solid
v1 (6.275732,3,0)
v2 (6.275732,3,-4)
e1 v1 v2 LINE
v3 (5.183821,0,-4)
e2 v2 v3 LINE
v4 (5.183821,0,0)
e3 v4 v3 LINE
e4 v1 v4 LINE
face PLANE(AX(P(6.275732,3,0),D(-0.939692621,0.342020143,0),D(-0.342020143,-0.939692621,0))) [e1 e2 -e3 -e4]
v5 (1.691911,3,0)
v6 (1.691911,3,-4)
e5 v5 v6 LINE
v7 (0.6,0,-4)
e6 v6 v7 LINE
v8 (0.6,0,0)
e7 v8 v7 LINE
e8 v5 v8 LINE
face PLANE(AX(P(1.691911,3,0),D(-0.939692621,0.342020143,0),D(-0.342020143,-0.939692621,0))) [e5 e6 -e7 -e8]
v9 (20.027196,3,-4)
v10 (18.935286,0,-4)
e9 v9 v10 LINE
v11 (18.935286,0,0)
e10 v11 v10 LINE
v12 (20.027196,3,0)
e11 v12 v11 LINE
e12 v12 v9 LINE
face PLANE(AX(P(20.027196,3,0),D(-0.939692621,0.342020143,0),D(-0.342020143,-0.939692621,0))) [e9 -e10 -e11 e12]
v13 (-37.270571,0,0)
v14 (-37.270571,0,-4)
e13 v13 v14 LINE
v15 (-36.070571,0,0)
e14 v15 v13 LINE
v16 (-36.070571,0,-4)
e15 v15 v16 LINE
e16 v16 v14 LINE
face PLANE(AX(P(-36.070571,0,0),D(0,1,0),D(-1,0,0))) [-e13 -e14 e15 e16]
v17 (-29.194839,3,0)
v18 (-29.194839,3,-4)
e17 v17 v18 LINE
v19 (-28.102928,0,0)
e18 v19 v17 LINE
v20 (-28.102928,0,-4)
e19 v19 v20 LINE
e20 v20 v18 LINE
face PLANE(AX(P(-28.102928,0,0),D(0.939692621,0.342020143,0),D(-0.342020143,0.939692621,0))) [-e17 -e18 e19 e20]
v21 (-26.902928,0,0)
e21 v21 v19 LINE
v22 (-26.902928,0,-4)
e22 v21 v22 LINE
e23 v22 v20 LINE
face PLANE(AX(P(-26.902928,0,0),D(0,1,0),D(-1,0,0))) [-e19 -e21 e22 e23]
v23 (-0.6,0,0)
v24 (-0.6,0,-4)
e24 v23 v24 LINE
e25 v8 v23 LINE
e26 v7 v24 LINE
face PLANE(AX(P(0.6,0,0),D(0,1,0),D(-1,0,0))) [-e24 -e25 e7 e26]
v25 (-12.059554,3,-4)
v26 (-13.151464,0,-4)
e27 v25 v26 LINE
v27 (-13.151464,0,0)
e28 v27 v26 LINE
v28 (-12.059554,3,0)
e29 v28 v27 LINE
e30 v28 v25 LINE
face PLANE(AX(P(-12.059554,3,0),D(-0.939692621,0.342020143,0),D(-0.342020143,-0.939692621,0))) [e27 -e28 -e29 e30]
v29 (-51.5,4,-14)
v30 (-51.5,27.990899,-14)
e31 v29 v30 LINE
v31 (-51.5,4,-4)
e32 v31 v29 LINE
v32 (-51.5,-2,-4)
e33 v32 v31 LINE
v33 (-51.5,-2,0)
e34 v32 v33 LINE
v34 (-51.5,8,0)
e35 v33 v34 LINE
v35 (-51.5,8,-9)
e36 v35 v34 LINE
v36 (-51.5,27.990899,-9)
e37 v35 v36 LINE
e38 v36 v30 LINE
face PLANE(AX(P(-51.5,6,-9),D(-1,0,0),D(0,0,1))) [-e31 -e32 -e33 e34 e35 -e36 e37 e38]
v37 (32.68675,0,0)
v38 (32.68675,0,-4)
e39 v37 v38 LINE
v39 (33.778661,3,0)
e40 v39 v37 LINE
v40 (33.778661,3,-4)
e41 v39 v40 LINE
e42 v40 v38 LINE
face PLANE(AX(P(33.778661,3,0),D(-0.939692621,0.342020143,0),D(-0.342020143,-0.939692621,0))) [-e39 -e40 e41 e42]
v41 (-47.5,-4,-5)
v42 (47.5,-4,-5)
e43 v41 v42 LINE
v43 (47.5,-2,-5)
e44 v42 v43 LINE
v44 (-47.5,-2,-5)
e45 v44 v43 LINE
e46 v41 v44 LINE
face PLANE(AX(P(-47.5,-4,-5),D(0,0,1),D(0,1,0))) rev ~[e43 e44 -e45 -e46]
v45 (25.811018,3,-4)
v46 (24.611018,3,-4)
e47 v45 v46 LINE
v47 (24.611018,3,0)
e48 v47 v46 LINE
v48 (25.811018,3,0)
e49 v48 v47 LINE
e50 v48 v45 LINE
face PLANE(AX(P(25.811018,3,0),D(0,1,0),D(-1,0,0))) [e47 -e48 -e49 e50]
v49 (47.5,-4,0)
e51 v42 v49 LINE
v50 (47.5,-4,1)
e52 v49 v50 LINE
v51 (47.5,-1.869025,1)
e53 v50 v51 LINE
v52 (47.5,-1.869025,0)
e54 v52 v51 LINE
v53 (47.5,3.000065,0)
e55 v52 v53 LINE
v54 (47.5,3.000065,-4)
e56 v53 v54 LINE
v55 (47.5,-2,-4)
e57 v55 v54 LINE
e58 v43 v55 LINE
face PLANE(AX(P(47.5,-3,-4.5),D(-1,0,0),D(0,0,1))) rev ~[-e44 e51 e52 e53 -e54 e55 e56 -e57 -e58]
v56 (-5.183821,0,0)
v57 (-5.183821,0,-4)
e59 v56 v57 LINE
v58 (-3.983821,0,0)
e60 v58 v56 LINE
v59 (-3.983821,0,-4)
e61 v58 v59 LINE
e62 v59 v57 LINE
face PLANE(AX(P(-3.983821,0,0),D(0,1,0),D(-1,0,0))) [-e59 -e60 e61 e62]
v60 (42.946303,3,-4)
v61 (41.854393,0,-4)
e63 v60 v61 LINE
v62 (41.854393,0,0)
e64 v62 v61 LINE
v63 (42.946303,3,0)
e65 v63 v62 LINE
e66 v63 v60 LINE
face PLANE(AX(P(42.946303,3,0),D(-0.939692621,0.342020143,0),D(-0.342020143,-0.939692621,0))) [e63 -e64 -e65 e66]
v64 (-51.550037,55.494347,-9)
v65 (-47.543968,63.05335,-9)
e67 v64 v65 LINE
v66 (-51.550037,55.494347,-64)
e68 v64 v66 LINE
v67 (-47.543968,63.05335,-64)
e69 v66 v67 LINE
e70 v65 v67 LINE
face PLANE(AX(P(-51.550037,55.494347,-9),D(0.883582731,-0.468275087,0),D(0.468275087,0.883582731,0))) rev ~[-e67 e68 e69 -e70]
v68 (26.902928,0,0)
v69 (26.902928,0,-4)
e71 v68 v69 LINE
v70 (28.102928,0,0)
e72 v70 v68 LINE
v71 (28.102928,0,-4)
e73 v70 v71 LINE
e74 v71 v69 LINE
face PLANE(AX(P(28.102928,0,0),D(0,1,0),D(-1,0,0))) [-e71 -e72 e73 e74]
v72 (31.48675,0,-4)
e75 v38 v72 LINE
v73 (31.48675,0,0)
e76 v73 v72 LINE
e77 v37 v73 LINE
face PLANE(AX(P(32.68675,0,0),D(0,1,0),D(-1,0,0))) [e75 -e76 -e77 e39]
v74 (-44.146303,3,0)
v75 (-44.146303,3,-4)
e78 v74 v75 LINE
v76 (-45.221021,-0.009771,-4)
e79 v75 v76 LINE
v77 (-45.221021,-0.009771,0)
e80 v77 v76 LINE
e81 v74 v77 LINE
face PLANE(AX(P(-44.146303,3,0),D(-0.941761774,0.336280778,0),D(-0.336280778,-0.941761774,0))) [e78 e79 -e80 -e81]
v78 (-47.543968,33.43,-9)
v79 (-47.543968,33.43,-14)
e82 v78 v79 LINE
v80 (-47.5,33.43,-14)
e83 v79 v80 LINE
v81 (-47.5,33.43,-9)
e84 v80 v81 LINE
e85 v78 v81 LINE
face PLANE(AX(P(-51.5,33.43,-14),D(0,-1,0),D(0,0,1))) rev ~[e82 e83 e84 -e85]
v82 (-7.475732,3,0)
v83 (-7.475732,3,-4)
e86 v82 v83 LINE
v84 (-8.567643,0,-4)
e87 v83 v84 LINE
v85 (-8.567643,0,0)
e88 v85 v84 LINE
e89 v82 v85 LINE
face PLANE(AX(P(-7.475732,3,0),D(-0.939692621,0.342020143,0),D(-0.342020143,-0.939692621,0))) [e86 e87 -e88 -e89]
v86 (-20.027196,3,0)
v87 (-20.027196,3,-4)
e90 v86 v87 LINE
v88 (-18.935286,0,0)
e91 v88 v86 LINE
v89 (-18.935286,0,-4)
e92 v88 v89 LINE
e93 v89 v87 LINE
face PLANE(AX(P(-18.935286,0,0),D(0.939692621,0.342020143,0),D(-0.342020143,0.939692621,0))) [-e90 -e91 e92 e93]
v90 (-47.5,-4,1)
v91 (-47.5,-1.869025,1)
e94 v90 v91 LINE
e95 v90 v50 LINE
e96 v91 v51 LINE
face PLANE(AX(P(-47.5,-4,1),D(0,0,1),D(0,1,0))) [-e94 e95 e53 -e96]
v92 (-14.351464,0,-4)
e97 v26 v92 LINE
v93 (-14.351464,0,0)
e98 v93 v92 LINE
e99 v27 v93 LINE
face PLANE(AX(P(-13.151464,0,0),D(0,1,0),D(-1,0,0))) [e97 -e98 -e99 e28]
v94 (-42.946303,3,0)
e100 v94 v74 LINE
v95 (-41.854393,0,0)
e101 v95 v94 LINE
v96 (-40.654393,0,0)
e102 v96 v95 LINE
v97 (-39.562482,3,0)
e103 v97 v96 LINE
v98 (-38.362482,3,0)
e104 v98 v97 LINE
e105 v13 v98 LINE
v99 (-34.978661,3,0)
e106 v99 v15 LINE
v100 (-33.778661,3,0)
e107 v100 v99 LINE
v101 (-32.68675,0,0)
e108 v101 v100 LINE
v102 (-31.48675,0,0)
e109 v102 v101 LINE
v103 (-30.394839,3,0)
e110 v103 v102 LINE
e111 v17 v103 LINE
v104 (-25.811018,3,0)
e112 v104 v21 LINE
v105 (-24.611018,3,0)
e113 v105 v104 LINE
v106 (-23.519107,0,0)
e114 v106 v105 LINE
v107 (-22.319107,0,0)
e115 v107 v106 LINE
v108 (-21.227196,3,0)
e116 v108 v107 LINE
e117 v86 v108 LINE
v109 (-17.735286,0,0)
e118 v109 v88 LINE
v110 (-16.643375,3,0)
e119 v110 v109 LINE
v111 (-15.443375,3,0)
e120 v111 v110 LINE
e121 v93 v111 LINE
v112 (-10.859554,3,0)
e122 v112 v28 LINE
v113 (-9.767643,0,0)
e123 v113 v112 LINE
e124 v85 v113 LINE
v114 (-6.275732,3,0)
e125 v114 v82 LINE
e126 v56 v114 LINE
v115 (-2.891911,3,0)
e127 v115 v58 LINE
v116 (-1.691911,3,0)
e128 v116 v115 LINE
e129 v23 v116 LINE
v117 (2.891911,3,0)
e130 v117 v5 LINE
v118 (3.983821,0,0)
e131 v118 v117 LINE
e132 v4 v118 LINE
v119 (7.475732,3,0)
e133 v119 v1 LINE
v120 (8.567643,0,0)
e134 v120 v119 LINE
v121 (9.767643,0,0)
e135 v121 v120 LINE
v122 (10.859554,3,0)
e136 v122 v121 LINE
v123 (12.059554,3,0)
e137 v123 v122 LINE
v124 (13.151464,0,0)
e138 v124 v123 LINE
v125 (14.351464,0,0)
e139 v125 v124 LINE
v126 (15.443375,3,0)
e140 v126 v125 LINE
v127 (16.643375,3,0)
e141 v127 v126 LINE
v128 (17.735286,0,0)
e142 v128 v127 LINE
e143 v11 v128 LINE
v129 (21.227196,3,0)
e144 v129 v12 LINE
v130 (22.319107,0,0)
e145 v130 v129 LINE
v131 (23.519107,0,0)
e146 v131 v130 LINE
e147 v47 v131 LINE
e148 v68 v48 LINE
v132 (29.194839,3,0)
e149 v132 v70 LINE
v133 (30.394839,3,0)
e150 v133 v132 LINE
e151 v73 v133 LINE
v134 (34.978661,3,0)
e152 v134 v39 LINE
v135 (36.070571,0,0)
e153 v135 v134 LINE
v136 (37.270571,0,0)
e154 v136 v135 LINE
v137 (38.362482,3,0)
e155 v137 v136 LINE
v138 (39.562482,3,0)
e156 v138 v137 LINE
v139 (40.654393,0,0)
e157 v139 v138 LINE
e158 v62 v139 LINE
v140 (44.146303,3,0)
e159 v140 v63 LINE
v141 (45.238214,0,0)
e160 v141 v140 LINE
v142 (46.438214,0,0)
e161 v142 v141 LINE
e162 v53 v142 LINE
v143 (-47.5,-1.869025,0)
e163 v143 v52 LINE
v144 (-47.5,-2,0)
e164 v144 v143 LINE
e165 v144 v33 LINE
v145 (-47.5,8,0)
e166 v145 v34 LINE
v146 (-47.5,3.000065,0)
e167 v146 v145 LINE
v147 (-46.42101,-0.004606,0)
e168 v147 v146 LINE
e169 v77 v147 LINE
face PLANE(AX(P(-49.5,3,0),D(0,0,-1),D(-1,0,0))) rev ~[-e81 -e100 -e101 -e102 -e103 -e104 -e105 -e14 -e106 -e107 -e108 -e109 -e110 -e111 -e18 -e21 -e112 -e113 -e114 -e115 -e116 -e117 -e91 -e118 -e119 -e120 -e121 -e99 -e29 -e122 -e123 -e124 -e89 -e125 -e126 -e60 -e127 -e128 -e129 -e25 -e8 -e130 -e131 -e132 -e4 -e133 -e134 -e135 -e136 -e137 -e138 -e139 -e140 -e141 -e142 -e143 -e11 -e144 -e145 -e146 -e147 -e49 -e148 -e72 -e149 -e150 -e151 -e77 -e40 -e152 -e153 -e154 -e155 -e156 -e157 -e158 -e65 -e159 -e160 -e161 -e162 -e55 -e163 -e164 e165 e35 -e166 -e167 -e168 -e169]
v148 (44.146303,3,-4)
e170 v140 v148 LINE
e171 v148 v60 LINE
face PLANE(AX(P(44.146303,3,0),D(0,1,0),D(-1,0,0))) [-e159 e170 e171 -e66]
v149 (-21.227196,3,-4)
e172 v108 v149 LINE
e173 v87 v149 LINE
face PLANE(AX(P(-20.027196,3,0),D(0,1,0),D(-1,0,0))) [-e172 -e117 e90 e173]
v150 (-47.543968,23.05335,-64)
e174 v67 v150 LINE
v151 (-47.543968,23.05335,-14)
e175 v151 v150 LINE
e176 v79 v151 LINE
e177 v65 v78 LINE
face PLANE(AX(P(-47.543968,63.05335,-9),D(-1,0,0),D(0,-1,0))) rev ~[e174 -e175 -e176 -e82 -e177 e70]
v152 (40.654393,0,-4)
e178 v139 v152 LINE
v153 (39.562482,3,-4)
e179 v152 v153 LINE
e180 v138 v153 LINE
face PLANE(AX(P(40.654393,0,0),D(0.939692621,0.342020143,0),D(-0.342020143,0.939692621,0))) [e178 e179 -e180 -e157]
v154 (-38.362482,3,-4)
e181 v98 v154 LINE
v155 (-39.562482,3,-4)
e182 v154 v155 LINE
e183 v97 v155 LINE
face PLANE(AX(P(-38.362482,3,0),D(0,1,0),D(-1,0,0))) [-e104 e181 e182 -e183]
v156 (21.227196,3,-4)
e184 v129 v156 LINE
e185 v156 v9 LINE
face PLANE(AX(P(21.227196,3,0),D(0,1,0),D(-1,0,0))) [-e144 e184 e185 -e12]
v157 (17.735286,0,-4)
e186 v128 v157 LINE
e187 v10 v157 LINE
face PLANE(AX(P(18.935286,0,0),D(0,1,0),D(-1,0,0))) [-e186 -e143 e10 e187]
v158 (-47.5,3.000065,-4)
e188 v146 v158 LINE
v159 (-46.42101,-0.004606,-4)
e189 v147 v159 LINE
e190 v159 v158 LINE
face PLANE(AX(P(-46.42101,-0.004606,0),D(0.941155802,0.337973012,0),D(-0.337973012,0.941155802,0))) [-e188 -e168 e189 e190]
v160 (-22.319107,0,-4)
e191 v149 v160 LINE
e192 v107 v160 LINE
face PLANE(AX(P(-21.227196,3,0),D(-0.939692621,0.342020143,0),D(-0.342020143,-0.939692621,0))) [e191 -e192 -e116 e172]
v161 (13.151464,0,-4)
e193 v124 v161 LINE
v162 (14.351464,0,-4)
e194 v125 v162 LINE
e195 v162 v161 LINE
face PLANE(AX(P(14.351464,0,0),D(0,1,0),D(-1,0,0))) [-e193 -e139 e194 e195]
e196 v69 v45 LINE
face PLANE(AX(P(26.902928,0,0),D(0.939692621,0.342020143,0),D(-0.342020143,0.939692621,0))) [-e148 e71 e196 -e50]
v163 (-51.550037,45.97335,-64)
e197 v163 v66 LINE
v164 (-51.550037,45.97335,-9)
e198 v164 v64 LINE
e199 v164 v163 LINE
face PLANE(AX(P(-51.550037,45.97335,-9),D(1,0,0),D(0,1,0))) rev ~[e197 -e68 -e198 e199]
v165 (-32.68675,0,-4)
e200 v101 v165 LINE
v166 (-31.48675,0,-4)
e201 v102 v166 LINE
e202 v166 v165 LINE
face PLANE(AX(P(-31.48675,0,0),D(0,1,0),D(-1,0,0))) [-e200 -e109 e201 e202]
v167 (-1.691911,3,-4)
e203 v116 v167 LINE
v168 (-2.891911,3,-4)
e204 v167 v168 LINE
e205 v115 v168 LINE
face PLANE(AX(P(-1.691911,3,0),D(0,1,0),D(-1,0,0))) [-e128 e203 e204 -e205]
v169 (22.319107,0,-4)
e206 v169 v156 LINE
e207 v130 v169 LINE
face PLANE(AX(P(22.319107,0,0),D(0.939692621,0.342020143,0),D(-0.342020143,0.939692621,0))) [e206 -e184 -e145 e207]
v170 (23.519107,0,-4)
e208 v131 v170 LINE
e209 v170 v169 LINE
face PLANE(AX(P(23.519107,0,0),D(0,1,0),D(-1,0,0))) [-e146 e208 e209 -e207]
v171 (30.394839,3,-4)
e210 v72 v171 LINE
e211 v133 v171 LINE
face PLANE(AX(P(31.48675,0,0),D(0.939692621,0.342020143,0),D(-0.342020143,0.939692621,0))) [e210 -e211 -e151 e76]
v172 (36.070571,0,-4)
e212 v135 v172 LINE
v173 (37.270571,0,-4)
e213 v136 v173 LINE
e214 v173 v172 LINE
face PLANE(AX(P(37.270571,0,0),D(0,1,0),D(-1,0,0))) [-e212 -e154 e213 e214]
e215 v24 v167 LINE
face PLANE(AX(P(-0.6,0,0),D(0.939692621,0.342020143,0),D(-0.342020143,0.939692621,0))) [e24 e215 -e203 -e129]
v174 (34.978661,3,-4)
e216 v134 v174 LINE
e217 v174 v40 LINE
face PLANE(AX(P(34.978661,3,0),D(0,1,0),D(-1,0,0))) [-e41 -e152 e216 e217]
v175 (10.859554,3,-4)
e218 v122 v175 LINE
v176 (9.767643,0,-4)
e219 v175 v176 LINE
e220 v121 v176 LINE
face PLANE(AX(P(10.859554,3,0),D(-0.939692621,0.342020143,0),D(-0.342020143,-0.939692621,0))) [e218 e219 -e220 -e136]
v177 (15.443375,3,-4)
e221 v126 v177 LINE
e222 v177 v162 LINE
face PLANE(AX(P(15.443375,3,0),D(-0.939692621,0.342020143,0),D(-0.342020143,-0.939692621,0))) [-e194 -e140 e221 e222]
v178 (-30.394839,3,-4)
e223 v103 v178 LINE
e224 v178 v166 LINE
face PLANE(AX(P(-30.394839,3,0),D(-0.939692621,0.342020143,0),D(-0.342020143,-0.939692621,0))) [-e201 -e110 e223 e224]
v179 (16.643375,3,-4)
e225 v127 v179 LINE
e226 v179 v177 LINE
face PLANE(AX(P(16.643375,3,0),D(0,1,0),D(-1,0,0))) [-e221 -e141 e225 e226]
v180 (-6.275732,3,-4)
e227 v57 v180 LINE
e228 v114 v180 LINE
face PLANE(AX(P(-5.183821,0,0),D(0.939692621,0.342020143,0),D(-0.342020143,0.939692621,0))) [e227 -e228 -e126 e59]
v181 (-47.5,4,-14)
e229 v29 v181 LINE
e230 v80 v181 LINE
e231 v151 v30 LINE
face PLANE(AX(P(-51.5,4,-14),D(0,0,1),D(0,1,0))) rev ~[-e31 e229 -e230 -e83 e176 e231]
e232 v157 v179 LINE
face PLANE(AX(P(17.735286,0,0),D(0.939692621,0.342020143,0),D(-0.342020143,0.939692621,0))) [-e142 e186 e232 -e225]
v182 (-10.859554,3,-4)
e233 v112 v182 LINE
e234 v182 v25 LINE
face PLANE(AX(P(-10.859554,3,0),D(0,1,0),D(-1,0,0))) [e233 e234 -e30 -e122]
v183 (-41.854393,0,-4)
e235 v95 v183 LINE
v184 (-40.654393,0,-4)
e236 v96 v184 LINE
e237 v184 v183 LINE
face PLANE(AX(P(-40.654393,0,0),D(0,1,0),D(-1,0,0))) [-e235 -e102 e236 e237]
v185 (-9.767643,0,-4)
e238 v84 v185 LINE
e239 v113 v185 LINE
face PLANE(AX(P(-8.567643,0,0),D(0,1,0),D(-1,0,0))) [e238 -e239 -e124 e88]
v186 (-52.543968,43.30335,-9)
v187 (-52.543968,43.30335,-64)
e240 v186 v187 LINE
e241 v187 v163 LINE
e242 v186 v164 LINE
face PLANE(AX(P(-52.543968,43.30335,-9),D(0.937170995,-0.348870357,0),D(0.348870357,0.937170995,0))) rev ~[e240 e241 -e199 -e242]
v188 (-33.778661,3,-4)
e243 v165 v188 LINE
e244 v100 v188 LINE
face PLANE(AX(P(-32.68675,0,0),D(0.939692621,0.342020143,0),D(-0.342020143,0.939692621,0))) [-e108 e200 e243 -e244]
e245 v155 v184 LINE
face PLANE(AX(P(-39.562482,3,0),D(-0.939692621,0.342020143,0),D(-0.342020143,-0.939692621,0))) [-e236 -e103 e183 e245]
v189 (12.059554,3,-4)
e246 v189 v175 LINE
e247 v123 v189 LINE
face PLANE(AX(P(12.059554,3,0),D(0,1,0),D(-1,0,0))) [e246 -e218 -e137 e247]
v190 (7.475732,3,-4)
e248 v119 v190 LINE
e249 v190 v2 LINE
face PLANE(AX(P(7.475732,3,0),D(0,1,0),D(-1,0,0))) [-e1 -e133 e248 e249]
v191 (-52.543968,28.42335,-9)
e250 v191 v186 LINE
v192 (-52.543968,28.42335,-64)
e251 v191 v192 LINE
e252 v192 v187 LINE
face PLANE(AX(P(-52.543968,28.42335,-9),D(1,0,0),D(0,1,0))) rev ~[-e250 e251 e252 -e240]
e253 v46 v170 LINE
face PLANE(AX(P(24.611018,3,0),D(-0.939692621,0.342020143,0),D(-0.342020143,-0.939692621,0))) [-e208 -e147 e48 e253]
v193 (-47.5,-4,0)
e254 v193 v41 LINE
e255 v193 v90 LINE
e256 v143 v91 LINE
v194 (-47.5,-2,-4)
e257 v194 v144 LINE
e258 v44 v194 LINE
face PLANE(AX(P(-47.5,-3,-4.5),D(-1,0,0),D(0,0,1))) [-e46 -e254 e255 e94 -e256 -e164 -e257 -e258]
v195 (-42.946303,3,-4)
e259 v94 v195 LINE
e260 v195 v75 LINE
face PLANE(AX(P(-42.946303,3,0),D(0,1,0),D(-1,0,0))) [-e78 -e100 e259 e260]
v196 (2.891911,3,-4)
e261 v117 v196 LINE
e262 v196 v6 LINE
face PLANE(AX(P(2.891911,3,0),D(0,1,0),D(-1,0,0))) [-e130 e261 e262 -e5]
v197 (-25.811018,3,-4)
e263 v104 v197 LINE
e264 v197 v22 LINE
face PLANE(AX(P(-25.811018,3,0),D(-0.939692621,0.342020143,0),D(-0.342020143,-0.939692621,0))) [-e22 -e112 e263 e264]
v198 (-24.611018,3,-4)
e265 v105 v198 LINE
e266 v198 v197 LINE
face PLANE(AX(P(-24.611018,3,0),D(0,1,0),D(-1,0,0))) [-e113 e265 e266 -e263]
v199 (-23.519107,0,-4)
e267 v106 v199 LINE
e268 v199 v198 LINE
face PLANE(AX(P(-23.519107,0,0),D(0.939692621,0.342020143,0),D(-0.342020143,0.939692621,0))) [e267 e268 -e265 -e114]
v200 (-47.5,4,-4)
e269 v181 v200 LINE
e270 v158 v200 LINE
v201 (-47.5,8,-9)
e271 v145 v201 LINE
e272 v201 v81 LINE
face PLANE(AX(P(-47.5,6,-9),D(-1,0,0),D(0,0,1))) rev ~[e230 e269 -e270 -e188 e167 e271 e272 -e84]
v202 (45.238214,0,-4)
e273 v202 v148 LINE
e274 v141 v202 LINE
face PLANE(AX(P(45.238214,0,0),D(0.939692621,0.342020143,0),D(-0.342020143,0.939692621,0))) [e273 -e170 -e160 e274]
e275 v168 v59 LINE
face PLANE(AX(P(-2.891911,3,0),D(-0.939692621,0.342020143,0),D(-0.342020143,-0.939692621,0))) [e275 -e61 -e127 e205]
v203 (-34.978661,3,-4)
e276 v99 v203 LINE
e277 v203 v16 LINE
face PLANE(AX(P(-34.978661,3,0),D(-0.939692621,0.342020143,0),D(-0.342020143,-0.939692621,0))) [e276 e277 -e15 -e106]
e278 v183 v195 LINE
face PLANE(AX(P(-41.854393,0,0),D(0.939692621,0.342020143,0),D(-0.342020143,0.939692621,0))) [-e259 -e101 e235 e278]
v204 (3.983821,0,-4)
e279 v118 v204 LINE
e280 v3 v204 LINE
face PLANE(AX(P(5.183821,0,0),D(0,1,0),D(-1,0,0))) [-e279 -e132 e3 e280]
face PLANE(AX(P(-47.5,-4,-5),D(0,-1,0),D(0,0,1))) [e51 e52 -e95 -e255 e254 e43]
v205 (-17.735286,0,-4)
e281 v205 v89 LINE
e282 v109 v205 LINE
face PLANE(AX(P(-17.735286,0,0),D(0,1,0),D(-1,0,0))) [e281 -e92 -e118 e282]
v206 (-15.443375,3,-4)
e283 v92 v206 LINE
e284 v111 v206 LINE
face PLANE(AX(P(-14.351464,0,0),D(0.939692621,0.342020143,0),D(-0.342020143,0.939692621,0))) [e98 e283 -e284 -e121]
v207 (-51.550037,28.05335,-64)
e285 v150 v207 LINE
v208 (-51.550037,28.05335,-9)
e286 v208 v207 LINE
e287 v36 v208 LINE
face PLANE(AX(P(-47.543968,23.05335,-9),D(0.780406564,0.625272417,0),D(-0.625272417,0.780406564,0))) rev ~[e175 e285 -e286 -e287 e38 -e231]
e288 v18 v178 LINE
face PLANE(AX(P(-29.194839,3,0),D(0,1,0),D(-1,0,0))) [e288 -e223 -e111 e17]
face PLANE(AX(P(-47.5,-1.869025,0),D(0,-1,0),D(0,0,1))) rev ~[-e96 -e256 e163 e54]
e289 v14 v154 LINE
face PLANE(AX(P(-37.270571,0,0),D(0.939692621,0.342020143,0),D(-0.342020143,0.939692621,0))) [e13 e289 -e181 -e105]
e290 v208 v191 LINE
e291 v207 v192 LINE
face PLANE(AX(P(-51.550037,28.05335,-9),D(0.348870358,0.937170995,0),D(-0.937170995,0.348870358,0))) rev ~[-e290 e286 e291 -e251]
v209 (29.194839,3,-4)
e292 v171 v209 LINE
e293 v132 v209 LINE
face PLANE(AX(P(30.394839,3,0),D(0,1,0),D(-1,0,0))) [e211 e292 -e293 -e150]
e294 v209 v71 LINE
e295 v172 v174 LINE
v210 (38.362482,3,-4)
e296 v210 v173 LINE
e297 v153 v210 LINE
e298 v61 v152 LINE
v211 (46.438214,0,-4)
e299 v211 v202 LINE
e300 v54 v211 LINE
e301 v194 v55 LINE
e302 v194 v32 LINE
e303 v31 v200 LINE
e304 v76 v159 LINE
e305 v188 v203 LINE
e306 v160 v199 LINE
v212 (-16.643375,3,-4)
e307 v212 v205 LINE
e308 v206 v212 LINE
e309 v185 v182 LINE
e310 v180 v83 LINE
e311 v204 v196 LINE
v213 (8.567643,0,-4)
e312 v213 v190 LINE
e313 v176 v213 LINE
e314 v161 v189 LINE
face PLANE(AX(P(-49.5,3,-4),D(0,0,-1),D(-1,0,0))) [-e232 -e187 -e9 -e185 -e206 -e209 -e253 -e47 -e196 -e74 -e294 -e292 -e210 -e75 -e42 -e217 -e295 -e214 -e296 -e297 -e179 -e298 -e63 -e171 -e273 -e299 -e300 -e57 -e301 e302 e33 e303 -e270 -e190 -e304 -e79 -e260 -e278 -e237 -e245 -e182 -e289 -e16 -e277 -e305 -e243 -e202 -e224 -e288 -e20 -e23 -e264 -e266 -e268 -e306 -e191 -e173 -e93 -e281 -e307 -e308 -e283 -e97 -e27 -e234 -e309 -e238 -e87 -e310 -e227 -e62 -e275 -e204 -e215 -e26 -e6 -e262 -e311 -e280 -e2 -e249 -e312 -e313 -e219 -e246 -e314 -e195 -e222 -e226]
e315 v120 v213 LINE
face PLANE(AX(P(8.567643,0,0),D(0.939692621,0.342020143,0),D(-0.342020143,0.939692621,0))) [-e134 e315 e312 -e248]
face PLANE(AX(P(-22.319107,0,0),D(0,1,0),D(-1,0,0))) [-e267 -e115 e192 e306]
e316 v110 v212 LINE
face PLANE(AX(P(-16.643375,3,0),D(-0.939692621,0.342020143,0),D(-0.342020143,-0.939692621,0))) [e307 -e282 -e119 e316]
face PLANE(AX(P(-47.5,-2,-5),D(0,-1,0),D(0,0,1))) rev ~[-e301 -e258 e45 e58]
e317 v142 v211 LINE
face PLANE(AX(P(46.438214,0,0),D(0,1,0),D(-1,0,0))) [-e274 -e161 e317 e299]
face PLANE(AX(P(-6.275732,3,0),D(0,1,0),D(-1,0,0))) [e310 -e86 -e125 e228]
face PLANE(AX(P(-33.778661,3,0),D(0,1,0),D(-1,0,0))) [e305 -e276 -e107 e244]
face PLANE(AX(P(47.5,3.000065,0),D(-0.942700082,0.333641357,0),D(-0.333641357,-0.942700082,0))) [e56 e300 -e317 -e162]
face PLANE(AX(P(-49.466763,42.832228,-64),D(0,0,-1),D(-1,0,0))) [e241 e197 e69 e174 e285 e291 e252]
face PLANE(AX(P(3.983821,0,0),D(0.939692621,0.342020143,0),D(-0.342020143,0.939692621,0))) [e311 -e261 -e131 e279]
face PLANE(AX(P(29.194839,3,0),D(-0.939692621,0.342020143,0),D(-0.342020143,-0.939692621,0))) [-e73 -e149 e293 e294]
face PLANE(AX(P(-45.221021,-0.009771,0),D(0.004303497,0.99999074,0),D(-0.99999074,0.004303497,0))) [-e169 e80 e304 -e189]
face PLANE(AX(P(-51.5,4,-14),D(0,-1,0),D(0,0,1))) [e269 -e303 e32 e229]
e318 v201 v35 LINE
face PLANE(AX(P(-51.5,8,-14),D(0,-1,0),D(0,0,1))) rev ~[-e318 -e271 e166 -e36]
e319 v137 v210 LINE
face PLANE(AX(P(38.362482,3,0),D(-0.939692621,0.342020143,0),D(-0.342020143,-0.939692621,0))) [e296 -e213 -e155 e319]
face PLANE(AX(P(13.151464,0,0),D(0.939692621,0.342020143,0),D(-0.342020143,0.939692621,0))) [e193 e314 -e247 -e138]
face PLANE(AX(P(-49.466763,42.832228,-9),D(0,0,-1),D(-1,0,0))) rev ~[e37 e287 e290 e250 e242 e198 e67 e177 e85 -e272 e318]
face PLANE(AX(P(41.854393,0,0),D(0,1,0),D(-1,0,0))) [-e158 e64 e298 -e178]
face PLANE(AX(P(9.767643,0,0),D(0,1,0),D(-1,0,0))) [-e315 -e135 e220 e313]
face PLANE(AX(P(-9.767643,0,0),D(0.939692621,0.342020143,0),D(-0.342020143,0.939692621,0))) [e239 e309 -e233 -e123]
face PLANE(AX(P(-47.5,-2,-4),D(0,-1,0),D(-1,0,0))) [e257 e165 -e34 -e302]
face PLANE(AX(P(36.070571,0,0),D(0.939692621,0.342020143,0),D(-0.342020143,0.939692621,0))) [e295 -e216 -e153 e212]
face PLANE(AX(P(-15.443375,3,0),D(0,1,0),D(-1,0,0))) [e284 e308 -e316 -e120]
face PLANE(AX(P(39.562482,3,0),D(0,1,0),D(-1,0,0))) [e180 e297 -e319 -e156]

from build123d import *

# Parameters (mm, degrees)
BOSS_EXTRU_1_DEPTH      = 4
ESQUISSE2_W             = 1
ESQUISSE2_H             = 2
ESQUISSE2_H_2           = 2.130975397
BOSS_EXTRU_2_DEPTH      = 95
ESQUISSE3_W             = 4
ESQUISSE3_H             = 10
BOSS_EXTRU_3_DEPTH      = 4
ESQUISSE4_W             = 10
ESQUISSE4_H             = 4
BOSS_EXTRU_4_DEPTH      = 4
ESQUISSE6_W             = 5
ESQUISSE6_H             = 29.43
BOSS_EXTRU_5_DEPTH      = 4
BOSS_EXTRU_6_DEPTH      = 50
BOSS_EXTRU_6_DEPTH_BACK = 5


with BuildPart() as part:
    # Esquisse1 → Boss.-Extru.1 (new body)
    with BuildSketch(Plane.XY):
        Polygon((0.6, 0), (-0.6, 0), (-1.691910703, 3), (-2.891910703, 3), (-3.983821406, 0), (-5.183821406, 0), (-6.275732108, 3), (-7.475732108, 3), (-8.567642811, 0), (-9.767642811, 0), (-10.859553514, 3), (-12.059553514, 3), (-13.151464217, 0), (-14.351464217, 0), (-15.44337492, 3), (-16.64337492, 3), (-17.735285622, 0), (-18.935285622, 0), (-20.027196325, 3), (-21.227196325, 3), (-22.319107028, 0), (-23.519107028, 0), (-24.611017731, 3), (-25.811017731, 3), (-26.902928434, 0), (-28.102928434, 0), (-29.194839136, 3), (-30.394839136, 3), (-31.486749839, 0), (-32.686749839, 0), (-33.778660542, 3), (-34.978660542, 3), (-36.070571245, 0), (-37.270571245, 0), (-38.362481948, 3), (-39.562481948, 3), (-40.65439265, 0), (-41.85439265, 0), (-42.946303353, 3), (-44.146303353, 3), (-45.221021012, -0.00977063), (-46.4210099, -0.004606433), (-47.5, 3.000064821), (-47.5, -4), (47.5, -4), (47.5, 3.000064821), (46.438214056, 0), (45.238214056, 0), (44.146303353, 3), (42.946303353, 3), (41.85439265, 0), (40.65439265, 0), (39.562481948, 3), (38.362481948, 3), (37.270571245, 0), (36.070571245, 0), (34.978660542, 3), (33.778660542, 3), (32.686749839, 0), (31.486749839, 0), (30.394839136, 3), (29.194839136, 3), (28.102928434, 0), (26.902928434, 0), (25.811017731, 3), (24.611017731, 3), (23.519107028, 0), (22.319107028, 0), (21.227196325, 3), (20.027196325, 3), (18.935285622, 0), (17.735285622, 0), (16.64337492, 3), (15.44337492, 3), (14.351464217, 0), (13.151464217, 0), (12.059553514, 3), (10.859553514, 3), (9.767642811, 0), (8.567642811, 0), (7.475732108, 3), (6.275732108, 3), (5.183821406, 0), (3.983821406, 0), (2.891910703, 3), (1.691910703, 3), align=None)
    extrude(amount=-BOSS_EXTRU_1_DEPTH)

    # Esquisse2 → Boss.-Extru.2 (add)
    with BuildSketch(Plane.ZY.offset(47.5)):
        with Locations((-4.5, -3)):
            Rectangle(ESQUISSE2_W, ESQUISSE2_H)
        with Locations((0.5, -2.934512301)):
            Rectangle(ESQUISSE2_W, ESQUISSE2_H_2)
    extrude(amount=-BOSS_EXTRU_2_DEPTH)

    # Esquisse3 → Boss.-Extru.3 (add)
    with BuildSketch(Plane(origin=(0, 0, -4), x_dir=(-1, 0, 0), z_dir=(0, 0, -1))):
        with Locations((49.5, 3)):
            Rectangle(ESQUISSE3_W, ESQUISSE3_H)
    extrude(amount=-BOSS_EXTRU_3_DEPTH)

    # Esquisse4 → Boss.-Extru.4 (add)
    with BuildSketch(Plane.ZY.offset(51.5)):
        with Locations((-9, 6)):
            Rectangle(ESQUISSE4_W, ESQUISSE4_H)
    extrude(amount=-BOSS_EXTRU_4_DEPTH)

    # Esquisse6 → Boss.-Extru.5 (add)
    with BuildSketch(Plane.ZY.offset(51.5)):
        with Locations((-11.5, 18.715)):
            Rectangle(ESQUISSE6_W, ESQUISSE6_H)
    extrude(amount=-BOSS_EXTRU_5_DEPTH)

    # Esquisse7 → Boss.-Extru.6 (add, two sides: drawn at the far end of the back side and taken through both)
    with BuildSketch(Plane(origin=(0, 0, -14), x_dir=(-1, 0, 0), z_dir=(0, 0, -1)).offset(-BOSS_EXTRU_6_DEPTH_BACK)):
        Polygon((47.543968479, 63.053350001), (47.543968479, 23.053350001), (51.550036892, 28.053350001), (52.543968479, 28.423350001), (52.543968479, 43.303350001), (51.550036892, 45.973350001), (51.550036892, 55.49434682), align=None)
    extrude(amount=BOSS_EXTRU_6_DEPTH + BOSS_EXTRU_6_DEPTH_BACK)


solid = part.part
